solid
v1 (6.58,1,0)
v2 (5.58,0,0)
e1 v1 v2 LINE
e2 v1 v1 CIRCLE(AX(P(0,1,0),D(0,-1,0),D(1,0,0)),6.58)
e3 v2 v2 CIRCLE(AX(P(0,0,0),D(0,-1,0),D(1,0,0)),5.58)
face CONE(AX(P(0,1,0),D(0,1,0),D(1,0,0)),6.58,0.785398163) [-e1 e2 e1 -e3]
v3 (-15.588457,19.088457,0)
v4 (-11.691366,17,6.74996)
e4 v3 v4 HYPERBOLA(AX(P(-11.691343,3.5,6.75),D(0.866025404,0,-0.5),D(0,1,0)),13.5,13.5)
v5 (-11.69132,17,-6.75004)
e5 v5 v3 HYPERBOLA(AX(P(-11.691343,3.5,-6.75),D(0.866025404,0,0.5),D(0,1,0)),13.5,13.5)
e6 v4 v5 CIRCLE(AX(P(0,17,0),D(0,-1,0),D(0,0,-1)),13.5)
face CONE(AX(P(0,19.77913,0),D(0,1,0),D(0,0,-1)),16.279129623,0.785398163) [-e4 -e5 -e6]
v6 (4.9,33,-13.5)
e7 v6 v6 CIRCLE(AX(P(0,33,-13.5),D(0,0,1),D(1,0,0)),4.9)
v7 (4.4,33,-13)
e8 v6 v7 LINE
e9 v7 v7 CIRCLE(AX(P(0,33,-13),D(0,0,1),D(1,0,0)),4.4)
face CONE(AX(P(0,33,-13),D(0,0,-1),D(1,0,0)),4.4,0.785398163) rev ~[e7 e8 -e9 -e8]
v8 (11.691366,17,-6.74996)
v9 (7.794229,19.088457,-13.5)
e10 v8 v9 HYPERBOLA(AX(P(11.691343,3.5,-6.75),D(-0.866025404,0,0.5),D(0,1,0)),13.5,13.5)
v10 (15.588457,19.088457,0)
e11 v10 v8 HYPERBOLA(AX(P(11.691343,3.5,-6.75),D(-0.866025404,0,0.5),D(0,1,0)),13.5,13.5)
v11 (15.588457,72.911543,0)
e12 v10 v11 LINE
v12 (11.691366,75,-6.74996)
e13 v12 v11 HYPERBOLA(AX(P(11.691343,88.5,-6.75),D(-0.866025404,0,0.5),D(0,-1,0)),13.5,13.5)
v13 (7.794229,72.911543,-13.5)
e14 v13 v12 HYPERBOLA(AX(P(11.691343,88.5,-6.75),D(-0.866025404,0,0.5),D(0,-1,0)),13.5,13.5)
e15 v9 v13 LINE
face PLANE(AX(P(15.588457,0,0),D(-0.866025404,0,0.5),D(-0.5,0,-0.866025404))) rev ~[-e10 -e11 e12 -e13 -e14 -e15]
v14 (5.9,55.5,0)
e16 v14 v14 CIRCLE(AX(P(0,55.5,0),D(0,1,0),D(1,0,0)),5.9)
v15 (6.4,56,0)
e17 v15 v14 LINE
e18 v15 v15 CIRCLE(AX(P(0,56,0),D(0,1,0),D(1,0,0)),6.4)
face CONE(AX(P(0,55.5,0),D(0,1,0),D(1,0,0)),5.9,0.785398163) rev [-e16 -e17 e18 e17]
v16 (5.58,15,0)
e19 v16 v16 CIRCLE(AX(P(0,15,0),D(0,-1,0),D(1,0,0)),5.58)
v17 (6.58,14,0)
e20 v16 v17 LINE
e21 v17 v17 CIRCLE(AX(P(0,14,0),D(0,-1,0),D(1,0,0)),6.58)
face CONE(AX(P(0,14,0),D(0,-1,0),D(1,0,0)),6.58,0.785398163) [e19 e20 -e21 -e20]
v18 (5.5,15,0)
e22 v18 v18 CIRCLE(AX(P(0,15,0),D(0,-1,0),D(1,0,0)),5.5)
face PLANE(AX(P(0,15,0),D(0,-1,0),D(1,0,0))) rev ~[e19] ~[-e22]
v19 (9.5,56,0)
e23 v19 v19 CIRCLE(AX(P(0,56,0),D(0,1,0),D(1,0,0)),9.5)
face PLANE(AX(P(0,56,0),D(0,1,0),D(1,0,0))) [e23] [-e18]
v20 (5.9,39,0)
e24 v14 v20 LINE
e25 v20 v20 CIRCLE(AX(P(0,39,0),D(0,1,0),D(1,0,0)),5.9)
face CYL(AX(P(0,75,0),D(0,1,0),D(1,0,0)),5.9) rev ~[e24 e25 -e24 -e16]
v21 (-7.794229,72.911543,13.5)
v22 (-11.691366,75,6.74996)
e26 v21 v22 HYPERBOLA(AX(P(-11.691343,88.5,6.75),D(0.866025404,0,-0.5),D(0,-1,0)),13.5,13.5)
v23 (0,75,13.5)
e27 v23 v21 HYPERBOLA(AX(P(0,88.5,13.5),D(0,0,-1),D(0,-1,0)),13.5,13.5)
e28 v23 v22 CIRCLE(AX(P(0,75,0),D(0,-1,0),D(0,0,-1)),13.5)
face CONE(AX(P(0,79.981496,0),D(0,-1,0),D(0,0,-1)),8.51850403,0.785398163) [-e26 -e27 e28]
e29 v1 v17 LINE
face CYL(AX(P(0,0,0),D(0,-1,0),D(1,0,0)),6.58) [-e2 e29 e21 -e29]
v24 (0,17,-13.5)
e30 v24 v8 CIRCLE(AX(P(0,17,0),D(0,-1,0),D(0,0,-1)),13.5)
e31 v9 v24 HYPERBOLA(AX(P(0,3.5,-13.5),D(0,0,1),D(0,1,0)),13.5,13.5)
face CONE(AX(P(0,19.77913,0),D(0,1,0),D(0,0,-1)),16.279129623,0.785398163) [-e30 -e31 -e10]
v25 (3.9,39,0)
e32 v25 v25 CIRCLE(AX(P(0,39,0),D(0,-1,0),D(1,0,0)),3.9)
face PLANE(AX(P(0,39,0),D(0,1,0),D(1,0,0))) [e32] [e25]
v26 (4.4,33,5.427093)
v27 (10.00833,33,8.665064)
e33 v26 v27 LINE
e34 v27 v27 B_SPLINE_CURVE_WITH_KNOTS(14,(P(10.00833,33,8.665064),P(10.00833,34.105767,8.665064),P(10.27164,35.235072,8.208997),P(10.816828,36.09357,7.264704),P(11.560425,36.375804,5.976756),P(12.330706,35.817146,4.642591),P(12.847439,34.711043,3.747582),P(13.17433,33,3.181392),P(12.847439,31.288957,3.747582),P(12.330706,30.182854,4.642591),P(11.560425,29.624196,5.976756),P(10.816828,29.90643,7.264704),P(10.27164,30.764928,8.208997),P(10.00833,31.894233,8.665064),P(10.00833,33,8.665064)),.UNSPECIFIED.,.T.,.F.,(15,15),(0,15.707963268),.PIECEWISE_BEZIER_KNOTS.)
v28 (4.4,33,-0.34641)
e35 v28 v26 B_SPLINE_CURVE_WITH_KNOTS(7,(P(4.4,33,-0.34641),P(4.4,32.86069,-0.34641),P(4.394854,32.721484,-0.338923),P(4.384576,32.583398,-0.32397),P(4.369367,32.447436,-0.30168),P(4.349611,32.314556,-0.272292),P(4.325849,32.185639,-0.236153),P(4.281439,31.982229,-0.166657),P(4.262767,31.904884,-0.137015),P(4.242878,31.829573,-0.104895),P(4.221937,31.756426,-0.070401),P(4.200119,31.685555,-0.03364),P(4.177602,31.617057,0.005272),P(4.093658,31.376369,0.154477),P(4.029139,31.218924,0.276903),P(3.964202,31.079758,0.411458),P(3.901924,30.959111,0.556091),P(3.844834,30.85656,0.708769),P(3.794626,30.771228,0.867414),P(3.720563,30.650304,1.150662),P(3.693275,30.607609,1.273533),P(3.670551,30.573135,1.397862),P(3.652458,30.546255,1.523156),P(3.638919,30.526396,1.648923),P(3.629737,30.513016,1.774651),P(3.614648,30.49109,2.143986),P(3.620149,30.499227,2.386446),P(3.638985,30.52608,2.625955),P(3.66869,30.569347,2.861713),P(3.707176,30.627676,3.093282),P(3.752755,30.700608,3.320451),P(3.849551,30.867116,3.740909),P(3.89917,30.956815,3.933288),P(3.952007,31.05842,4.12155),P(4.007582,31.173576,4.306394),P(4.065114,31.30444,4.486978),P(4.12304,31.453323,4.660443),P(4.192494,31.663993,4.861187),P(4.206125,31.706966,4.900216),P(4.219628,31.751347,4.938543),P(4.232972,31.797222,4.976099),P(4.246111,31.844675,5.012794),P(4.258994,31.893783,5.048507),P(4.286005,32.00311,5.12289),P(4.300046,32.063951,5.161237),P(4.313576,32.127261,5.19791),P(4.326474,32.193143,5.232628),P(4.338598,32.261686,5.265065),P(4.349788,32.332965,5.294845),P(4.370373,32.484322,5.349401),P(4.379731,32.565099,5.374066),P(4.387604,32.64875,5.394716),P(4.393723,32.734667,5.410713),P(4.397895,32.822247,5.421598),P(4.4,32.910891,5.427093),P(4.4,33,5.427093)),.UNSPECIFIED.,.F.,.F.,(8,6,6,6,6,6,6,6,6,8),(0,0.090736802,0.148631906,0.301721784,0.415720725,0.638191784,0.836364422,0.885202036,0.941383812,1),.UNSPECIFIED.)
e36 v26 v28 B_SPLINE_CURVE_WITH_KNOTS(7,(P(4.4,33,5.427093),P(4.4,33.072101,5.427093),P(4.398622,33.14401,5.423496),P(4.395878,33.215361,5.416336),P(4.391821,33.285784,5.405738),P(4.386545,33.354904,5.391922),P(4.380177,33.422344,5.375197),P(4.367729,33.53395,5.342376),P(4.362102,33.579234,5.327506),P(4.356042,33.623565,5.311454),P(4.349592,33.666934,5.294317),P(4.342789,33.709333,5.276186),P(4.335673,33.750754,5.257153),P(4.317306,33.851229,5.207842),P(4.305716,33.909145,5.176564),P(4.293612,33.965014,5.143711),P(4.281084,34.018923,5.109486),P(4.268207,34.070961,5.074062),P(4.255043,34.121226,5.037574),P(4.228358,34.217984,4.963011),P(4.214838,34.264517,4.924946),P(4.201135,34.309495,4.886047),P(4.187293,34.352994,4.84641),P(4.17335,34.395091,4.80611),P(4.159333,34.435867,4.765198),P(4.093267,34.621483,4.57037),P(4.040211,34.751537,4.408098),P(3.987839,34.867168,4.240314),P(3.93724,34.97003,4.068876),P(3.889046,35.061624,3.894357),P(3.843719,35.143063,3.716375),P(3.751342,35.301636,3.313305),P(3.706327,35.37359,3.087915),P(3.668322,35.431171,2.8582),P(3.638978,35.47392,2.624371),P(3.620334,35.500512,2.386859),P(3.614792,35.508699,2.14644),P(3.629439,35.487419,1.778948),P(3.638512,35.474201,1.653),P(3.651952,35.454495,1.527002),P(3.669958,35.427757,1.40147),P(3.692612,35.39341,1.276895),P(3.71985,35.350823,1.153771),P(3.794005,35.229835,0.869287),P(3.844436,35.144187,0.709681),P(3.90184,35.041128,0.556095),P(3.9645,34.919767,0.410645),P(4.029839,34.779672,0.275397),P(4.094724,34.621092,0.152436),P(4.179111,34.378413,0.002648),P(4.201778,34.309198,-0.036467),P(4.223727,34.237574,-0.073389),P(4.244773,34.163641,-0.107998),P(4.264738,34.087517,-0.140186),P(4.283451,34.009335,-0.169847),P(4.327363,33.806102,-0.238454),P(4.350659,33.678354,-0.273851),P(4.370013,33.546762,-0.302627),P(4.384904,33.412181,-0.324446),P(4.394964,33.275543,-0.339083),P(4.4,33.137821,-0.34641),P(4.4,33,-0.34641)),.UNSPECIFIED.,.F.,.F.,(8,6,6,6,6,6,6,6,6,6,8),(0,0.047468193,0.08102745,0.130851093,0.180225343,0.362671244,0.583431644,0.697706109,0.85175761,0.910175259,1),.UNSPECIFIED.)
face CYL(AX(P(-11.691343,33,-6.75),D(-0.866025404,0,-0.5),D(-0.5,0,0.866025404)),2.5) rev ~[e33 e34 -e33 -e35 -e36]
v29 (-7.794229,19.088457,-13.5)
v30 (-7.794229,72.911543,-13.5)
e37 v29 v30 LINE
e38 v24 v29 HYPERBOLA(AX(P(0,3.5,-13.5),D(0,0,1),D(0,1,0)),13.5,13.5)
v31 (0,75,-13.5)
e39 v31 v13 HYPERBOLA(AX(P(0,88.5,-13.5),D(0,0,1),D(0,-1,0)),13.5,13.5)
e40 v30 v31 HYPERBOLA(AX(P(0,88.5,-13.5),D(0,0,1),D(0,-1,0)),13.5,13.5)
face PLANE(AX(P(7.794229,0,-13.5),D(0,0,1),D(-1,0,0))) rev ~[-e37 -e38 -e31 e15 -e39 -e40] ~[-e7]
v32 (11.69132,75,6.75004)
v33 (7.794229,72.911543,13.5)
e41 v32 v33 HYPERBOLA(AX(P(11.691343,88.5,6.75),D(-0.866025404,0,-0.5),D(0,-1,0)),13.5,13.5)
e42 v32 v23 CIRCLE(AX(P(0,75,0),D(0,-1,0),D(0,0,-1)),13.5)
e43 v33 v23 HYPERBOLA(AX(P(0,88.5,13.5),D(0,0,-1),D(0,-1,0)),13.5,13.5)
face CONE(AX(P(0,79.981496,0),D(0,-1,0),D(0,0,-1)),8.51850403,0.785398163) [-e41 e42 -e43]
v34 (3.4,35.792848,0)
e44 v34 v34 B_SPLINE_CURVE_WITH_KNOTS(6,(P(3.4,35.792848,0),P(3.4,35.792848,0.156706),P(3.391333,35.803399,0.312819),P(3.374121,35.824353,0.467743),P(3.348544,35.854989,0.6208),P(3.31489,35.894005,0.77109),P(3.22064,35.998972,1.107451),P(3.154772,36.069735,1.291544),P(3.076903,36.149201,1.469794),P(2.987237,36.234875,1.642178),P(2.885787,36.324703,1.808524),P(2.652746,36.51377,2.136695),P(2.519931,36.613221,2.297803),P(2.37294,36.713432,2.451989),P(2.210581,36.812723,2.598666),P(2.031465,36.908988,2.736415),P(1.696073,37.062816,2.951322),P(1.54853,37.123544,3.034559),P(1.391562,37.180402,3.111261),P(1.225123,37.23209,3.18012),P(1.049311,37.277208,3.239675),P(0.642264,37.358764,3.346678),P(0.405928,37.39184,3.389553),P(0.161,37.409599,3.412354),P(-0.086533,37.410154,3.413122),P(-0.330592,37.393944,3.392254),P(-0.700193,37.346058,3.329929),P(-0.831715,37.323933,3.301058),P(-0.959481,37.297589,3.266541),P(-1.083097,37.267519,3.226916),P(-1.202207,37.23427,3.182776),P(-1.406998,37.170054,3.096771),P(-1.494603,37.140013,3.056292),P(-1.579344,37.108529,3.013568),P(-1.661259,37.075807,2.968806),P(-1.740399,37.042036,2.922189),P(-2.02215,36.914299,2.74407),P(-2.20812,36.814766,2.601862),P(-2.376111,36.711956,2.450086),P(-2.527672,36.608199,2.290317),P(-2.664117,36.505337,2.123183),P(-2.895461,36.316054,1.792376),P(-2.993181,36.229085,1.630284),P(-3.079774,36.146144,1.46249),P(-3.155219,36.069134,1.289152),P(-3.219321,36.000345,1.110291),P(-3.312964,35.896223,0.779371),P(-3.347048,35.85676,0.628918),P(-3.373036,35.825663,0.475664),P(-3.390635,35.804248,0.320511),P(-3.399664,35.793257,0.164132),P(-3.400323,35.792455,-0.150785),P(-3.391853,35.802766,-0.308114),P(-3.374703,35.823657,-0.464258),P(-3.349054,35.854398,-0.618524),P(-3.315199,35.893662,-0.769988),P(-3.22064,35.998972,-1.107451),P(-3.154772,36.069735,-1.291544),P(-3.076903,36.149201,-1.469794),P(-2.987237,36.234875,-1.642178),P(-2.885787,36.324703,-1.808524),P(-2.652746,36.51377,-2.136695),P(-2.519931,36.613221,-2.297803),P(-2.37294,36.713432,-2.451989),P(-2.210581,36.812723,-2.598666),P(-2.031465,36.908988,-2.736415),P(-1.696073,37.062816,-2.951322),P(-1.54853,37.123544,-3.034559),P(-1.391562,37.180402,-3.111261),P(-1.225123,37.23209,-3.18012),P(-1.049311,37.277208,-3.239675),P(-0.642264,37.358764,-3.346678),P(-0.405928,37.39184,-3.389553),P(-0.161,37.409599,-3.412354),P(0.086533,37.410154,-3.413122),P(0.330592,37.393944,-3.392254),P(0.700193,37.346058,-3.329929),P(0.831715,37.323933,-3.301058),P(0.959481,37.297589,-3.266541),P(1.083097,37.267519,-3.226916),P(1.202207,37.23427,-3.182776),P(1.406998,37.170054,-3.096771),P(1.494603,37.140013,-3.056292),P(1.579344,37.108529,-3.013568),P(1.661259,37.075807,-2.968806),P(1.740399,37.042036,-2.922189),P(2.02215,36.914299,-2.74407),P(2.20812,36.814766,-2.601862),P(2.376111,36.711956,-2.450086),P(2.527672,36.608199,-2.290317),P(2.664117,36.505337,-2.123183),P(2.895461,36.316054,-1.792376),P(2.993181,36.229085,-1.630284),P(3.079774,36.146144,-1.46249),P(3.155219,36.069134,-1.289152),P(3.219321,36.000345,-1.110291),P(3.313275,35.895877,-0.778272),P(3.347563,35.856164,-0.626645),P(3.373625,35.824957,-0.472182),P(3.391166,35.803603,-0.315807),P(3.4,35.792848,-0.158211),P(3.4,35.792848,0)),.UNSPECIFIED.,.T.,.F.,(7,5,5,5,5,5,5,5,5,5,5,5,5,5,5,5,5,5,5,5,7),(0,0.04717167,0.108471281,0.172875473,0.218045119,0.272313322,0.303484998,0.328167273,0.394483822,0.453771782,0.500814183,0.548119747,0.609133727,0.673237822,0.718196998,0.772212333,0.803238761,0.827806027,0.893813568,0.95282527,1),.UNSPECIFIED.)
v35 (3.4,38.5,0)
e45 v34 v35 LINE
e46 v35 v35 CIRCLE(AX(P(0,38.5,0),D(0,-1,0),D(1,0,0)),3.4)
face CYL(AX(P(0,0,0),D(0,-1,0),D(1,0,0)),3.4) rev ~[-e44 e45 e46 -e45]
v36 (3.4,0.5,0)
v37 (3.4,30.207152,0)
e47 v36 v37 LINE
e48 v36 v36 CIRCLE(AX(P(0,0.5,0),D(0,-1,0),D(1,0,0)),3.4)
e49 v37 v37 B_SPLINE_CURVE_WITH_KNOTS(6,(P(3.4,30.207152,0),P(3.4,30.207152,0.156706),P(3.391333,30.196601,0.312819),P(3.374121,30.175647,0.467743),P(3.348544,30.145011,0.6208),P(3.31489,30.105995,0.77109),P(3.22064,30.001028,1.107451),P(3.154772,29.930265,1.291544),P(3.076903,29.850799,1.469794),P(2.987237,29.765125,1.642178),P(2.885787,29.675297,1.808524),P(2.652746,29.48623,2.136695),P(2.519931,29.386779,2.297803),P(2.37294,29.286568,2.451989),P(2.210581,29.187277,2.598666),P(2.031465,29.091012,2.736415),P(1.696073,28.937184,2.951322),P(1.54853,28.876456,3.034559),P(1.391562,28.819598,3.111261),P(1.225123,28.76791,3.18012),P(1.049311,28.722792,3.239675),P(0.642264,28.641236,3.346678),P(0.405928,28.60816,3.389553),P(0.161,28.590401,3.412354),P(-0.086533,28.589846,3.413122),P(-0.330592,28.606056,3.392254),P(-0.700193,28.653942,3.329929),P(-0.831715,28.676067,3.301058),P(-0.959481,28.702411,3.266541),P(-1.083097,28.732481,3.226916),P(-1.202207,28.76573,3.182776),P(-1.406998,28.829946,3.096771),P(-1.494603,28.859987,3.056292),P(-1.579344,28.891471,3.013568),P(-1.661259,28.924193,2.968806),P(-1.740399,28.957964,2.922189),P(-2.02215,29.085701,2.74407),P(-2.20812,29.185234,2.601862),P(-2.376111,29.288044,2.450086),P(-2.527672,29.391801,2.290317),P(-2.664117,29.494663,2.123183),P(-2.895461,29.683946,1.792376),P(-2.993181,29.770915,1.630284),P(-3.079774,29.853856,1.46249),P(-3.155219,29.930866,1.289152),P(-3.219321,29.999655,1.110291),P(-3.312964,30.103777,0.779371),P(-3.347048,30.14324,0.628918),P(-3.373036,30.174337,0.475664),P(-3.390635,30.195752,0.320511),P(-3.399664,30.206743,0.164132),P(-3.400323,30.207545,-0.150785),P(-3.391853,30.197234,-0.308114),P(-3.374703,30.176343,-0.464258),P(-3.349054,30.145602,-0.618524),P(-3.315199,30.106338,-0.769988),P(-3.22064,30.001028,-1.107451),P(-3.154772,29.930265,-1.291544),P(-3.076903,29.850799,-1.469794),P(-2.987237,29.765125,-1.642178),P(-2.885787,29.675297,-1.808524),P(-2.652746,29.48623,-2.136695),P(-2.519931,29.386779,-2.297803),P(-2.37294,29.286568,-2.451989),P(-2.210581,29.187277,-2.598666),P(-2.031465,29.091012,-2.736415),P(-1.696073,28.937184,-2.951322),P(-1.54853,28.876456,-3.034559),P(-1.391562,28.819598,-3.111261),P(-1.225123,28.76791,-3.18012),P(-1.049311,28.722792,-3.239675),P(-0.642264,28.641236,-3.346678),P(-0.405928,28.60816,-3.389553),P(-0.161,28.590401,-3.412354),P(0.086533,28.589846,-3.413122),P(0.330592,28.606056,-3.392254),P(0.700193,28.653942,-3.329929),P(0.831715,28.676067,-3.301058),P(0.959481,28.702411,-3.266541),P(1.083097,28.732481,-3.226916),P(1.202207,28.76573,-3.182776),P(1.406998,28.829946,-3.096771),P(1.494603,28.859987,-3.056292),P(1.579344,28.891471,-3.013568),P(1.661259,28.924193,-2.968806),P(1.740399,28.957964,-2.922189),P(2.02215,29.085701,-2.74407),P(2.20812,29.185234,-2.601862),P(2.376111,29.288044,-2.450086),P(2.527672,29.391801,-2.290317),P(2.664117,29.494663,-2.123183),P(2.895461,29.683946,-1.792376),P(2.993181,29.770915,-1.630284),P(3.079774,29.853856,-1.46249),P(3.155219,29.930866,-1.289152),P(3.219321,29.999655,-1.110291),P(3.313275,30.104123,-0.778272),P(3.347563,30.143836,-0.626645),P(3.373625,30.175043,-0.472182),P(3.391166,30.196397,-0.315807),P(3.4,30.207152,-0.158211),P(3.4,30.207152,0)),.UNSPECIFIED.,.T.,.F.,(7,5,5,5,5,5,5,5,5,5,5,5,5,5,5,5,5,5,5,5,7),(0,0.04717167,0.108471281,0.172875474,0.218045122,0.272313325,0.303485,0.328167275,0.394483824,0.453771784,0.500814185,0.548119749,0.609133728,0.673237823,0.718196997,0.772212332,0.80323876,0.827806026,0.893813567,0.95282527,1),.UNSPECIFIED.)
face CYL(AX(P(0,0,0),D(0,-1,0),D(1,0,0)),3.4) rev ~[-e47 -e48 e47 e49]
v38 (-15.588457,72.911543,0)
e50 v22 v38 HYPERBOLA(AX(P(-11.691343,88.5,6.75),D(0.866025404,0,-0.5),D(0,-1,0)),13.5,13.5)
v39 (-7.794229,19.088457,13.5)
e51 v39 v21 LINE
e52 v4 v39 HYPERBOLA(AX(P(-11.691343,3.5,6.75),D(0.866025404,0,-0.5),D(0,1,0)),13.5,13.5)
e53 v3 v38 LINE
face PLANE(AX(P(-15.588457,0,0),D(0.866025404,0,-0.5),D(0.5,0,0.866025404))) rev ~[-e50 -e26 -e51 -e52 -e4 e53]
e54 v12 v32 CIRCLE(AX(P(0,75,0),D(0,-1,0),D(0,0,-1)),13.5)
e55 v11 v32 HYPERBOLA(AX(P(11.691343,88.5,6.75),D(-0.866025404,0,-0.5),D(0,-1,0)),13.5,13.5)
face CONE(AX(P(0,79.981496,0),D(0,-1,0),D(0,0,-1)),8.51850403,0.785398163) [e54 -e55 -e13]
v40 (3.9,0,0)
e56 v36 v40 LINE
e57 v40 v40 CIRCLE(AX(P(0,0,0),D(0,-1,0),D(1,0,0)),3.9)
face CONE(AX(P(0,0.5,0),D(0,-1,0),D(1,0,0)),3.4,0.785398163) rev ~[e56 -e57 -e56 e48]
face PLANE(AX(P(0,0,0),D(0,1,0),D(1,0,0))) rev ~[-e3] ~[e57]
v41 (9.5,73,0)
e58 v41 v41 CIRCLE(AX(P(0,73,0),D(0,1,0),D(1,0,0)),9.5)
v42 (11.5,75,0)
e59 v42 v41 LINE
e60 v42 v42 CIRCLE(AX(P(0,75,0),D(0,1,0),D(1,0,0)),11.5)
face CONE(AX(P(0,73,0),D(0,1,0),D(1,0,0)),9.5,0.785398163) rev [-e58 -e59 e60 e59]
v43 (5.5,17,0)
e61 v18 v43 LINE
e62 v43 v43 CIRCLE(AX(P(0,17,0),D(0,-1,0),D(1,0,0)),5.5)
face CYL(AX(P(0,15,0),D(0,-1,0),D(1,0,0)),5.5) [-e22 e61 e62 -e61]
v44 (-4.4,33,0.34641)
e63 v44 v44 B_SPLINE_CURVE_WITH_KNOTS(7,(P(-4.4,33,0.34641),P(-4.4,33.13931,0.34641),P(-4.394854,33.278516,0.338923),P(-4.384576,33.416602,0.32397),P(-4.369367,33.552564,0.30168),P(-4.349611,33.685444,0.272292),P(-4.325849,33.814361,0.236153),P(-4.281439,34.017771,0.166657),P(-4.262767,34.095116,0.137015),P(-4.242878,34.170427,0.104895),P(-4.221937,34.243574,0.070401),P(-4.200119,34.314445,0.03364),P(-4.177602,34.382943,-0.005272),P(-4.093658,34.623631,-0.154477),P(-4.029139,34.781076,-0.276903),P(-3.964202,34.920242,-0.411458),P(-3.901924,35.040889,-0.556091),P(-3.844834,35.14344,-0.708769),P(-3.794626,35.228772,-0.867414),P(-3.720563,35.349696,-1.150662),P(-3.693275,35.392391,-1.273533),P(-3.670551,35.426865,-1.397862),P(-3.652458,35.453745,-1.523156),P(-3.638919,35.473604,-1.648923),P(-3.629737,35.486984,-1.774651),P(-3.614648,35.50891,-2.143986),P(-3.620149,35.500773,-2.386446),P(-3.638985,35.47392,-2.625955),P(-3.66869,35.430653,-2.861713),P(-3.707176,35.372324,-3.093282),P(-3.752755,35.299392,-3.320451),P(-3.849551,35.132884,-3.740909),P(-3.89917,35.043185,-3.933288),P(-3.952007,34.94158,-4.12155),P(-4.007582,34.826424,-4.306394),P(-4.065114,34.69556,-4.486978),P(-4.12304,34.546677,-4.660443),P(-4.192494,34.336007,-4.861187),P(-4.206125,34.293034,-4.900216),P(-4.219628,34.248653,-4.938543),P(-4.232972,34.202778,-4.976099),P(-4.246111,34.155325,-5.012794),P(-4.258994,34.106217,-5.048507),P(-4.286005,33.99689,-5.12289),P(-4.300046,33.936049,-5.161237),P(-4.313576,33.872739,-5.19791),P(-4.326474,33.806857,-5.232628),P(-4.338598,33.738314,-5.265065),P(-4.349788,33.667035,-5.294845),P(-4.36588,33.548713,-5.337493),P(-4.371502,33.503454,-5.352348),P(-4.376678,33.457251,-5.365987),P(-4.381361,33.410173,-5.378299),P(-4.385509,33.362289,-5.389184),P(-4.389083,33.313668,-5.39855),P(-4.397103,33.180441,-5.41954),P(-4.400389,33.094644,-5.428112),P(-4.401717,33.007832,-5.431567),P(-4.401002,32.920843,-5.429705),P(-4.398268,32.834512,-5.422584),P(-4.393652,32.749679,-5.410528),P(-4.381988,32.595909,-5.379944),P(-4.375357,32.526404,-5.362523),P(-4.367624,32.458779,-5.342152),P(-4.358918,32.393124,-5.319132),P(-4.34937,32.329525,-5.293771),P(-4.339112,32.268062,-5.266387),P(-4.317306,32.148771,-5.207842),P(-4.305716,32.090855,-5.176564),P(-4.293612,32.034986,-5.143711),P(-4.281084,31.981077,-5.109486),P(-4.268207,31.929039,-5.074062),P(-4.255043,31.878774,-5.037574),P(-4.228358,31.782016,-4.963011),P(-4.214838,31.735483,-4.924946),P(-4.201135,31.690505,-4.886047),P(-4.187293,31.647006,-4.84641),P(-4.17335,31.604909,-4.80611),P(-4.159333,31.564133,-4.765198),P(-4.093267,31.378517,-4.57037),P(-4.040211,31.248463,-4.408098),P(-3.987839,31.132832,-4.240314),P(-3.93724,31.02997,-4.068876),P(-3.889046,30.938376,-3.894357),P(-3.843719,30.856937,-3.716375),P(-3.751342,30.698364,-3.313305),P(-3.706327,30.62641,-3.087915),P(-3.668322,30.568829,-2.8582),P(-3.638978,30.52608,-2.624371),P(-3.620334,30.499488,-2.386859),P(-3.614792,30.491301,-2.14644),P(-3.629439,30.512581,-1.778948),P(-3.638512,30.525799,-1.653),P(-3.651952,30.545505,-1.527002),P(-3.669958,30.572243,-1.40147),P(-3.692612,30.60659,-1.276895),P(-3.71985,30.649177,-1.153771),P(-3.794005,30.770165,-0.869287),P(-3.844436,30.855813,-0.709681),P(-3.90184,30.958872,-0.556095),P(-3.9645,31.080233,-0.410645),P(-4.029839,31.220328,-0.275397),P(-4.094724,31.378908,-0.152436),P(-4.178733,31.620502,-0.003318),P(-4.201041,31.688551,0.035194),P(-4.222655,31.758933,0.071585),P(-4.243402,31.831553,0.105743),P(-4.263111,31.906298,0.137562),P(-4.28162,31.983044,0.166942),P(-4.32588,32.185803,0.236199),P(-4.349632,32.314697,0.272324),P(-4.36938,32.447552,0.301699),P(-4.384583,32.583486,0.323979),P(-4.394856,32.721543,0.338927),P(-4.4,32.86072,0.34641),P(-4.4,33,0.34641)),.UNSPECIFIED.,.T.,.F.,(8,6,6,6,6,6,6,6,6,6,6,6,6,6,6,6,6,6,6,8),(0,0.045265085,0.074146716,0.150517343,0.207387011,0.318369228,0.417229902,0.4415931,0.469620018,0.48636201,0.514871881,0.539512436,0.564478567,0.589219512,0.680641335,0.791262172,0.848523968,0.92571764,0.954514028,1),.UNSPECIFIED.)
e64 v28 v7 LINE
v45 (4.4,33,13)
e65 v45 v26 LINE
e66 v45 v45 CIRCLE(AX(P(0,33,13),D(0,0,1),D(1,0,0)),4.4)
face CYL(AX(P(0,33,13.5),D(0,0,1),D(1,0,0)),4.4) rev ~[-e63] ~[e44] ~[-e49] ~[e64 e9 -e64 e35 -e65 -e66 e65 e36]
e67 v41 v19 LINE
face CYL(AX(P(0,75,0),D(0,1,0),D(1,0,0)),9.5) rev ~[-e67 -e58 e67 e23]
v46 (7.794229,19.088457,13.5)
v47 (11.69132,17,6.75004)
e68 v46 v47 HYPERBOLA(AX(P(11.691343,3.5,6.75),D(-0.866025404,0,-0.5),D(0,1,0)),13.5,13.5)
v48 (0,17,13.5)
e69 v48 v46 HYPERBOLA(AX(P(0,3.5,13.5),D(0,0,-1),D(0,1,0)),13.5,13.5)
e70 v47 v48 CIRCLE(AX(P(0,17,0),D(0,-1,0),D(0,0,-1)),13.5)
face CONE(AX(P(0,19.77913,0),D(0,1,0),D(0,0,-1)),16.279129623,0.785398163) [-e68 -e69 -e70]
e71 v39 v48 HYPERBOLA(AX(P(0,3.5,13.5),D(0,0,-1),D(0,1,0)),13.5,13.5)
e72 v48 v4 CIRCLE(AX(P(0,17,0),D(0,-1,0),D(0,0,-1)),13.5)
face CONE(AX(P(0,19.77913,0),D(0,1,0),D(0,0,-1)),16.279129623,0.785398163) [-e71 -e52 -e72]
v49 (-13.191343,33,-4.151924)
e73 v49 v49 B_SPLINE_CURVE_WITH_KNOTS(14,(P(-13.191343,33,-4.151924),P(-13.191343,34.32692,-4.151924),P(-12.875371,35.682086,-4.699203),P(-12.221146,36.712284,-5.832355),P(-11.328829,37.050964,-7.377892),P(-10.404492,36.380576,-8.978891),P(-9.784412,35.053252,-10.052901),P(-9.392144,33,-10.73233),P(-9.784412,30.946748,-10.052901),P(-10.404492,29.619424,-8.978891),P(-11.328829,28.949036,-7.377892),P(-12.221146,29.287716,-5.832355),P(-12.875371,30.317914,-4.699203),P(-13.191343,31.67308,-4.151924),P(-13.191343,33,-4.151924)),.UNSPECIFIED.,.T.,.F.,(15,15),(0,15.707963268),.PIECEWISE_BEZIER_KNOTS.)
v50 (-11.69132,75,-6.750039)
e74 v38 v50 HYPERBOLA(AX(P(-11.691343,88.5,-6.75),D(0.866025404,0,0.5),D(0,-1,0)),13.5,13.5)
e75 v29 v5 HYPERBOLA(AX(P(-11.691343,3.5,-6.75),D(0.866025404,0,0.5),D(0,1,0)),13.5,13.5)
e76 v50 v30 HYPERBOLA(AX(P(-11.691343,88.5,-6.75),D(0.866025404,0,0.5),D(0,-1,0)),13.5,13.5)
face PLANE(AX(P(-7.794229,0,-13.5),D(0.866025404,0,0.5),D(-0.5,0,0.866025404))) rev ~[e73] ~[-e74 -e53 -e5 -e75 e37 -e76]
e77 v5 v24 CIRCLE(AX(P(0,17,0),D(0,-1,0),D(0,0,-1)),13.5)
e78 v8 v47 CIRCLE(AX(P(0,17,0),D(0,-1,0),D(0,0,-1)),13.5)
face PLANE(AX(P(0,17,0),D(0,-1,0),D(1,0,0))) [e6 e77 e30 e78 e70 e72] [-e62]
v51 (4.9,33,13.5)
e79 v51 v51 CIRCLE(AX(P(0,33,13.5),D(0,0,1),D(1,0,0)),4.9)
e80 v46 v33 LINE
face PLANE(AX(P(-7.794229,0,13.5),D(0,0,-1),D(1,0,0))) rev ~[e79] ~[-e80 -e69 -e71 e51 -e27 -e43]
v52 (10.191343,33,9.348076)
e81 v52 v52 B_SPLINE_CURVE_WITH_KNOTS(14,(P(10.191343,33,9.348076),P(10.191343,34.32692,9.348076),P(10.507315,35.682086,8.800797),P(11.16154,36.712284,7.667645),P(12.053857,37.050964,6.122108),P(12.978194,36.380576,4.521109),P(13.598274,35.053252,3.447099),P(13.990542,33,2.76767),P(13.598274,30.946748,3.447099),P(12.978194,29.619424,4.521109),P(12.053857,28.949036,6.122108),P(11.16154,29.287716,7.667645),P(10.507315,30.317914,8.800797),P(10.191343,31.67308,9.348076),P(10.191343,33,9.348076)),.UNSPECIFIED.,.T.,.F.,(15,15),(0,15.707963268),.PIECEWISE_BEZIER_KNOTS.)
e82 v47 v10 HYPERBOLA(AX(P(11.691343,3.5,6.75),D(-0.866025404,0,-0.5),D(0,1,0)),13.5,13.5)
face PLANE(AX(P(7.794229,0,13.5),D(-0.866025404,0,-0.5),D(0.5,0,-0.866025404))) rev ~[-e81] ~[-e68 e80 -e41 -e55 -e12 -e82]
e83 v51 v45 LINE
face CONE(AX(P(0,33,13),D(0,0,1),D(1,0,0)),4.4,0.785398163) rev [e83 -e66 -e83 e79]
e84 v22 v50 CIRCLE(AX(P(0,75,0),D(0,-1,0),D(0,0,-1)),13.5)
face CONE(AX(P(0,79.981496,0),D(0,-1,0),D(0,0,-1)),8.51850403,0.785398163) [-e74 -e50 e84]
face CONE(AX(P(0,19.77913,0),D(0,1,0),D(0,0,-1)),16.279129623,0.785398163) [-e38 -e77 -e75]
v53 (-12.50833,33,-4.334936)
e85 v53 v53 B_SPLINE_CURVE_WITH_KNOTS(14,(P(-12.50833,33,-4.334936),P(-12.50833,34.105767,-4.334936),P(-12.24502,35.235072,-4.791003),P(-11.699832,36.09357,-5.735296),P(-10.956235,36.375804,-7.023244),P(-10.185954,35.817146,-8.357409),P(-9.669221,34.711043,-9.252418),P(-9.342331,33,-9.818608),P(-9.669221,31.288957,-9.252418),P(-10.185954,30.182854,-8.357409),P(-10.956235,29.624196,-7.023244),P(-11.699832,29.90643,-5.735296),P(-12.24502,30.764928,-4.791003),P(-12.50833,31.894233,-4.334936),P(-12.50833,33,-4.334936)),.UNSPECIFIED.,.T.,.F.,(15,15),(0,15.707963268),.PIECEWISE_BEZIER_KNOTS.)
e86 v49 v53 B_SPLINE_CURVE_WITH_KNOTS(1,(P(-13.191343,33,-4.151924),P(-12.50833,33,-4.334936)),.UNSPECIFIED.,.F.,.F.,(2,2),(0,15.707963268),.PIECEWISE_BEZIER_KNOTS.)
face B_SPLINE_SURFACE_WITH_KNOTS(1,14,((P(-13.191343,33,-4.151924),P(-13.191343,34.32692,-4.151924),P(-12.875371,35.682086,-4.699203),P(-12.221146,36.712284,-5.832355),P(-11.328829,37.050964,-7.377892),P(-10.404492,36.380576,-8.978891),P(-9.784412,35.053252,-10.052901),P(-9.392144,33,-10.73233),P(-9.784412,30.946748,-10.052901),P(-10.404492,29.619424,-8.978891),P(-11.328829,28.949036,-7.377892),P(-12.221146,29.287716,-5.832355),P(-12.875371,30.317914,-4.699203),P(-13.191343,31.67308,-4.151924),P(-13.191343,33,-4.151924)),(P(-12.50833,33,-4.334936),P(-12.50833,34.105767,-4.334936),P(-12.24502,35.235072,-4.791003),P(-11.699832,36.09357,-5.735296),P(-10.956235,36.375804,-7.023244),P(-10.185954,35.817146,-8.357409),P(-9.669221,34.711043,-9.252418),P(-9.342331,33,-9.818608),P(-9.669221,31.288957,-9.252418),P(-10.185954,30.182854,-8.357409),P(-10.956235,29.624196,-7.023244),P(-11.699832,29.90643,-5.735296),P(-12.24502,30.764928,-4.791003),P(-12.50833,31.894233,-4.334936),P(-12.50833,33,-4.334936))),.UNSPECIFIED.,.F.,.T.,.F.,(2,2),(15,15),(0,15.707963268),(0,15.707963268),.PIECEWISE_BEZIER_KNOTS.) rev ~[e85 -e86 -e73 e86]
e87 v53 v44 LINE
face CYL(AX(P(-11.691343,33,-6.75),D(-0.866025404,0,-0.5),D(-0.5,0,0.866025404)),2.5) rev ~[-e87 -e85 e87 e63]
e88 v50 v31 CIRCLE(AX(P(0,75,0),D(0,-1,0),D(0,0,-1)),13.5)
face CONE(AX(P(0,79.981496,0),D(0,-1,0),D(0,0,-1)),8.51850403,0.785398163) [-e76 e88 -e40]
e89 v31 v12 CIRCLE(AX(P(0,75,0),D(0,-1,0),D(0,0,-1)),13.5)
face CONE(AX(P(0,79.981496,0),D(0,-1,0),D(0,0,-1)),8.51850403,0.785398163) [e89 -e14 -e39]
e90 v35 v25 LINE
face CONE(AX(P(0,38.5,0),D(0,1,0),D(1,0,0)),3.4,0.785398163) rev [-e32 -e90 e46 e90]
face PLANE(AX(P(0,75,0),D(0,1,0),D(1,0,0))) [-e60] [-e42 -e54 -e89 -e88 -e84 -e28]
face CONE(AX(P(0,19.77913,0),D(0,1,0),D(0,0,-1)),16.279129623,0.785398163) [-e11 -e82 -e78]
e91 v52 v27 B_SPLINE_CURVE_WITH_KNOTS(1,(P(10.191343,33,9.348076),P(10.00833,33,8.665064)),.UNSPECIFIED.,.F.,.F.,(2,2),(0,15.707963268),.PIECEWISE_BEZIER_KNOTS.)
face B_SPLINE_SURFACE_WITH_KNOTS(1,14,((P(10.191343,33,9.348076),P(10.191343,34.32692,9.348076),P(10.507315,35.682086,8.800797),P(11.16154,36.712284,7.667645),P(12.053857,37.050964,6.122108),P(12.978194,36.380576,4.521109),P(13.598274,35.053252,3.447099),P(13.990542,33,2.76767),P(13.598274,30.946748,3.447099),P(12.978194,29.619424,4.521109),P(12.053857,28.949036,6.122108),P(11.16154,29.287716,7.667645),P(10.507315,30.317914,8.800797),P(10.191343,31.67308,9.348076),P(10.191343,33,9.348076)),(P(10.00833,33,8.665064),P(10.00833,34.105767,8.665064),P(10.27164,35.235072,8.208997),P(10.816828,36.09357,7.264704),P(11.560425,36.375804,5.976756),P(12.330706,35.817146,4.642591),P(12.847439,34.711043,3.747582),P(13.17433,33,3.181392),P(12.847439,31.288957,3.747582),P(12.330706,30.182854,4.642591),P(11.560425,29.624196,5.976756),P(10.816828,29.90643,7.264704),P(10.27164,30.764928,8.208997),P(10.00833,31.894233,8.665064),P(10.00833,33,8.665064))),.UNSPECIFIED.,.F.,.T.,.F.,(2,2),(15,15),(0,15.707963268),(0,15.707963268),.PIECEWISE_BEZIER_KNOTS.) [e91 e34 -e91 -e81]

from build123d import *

# Parameters (mm, degrees)
BOSS_EXTRUDE1_DEPTH = 75
SKETCH2_R           = 6.58
CUT_EXTRUDE1_DEPTH  = 15
SKETCH3_OUTSIDE_W   = 50.294
SKETCH3_OUTSIDE_H   = 46.118
SKETCH3_OUTSIDE_R   = 5.5
CUT_EXTRUDE3_DEPTH  = 2
SKETCH4_R           = 3.4
CUT_EXTRUDE4_DEPTH  = 76
SKETCH5_R           = 5.9
CUT_EXTRUDE5_DEPTH  = 36
SKETCH7_R           = 9.5
CUT_EXTRUDE7_DEPTH  = 19
SKETCH8_R           = 4.4
CUT_EXTRUDE8_DEPTH  = 28
SKETCH9_R           = 2.5
CUT_EXTRUDE9_DEPTH  = 34.75000005
CHAMFER2_SIZE       = 0.5
CHAMFER3_SIZE       = 2
CHAMFER4_SIZE       = 1


with BuildPart() as part:
    # Sketch1 → Boss-Extrude1 (new body)
    with BuildSketch(Plane(origin=(0, 0, 0), x_dir=(1, 0, 0), z_dir=(0, 1, 0))):
        Polygon((7.794228634, -13.5), (15.588457268, 0), (7.794228634, 13.5), (-7.794228634, 13.5), (-15.588457268, 0), (-7.794228634, -13.5), align=None)
    extrude(amount=BOSS_EXTRUDE1_DEPTH)

    # Sketch2 → Cut-Extrude1 (cut)
    with BuildSketch(Plane.XZ):
        Polygon((15.588457268, 0), (7.794228634, 13.5), (-7.794228634, 13.5), (-15.588457268, 0), (-7.794228634, -13.5), (7.794228634, -13.5), align=None)
        Circle(SKETCH2_R, mode=Mode.SUBTRACT)
    extrude(amount=-CUT_EXTRUDE1_DEPTH, mode=Mode.SUBTRACT)

    # Sketch3 outside → Cut-Extrude3 (cut)
    with BuildSketch(Plane.XZ.offset(-15)):
        Rectangle(SKETCH3_OUTSIDE_W, SKETCH3_OUTSIDE_H)
        Circle(SKETCH3_OUTSIDE_R, mode=Mode.SUBTRACT)
    extrude(amount=-CUT_EXTRUDE3_DEPTH, mode=Mode.SUBTRACT)

    # Sketch4 → Cut-Extrude4 (cut, through all)
    with BuildSketch(Plane.XZ):
        Circle(SKETCH4_R)
    extrude(amount=-CUT_EXTRUDE4_DEPTH, mode=Mode.SUBTRACT)

    # Sketch5 → Cut-Extrude5 (cut)
    with BuildSketch(Plane(origin=(0, 75, 0), x_dir=(1, 0, 0), z_dir=(0, 1, 0))):
        Circle(SKETCH5_R)
    extrude(amount=-CUT_EXTRUDE5_DEPTH, mode=Mode.SUBTRACT)

    # Sketch7 → Cut-Extrude7 (cut)
    with BuildSketch(Plane(origin=(0, 75, 0), x_dir=(1, 0, 0), z_dir=(0, 1, 0))):
        Circle(SKETCH7_R)
    extrude(amount=-CUT_EXTRUDE7_DEPTH, mode=Mode.SUBTRACT)

    # Sketch8 → Cut-Extrude8 (cut, through all)
    with BuildSketch(Plane.XY.offset(13.5)):
        with Locations((0, 33)):
            Circle(SKETCH8_R)
    extrude(amount=-CUT_EXTRUDE8_DEPTH, mode=Mode.SUBTRACT)

    # Sketch9 → Cut-Extrude9 (cut, through all)
    with BuildSketch(Plane(origin=(-11.691342951, 0, -6.75), x_dir=(-0.5, 0, 0.866025404), z_dir=(-0.866025404, 0, -0.5))):
        with Locations((0, 33)):
            Circle(SKETCH9_R)
    extrude(amount=-CUT_EXTRUDE9_DEPTH, mode=Mode.SUBTRACT)

    # Sketch10 → Cut-Revolve1 (revolve, cut)
    with BuildSketch(Plane(origin=(0, 0, 0), x_dir=(0, 0, -1), z_dir=(1, 0, 0))):
        Polygon((8.51850403, 79.98149597), (18.48149597, 70.01850403), (18.48149597, 79.98149597), align=None)
        Polygon((16.279129623, 19.779129623), (10.720870377, 14.220870377), (16.279129623, 14.220870377), align=None)
    revolve(axis=Axis((0, 77.98149597, 0), (0, -1, 0)), mode=Mode.SUBTRACT)

    # Chamfer2
    chamfer2_edges = [part.edges().sort_by_distance(p)[0] for p in [
        (-10.441342951, 33, -8.915063509),
        (-3.4, 0, 0),
        (-3.4, 39, 0),
        (-5.9, 56, 0),
        (-4.4, 33, -13.5),
        (-4.4, 33, 13.5),
        (12.941342951, 33, 4.584936491),
    ]]
    chamfer(chamfer2_edges, length=CHAMFER2_SIZE)

    # Chamfer3
    chamfer3_edges = [part.edges().sort_by_distance(p)[0] for p in [
        (-9.5, 75, 0),
    ]]
    chamfer(chamfer3_edges, length=CHAMFER3_SIZE)

    # Chamfer4
    chamfer4_edges = [part.edges().sort_by_distance(p)[0] for p in [
        (-6.58, 0, 0),
        (-6.58, 15, 0),
    ]]
    chamfer(chamfer4_edges, length=CHAMFER4_SIZE)


solid = part.part
